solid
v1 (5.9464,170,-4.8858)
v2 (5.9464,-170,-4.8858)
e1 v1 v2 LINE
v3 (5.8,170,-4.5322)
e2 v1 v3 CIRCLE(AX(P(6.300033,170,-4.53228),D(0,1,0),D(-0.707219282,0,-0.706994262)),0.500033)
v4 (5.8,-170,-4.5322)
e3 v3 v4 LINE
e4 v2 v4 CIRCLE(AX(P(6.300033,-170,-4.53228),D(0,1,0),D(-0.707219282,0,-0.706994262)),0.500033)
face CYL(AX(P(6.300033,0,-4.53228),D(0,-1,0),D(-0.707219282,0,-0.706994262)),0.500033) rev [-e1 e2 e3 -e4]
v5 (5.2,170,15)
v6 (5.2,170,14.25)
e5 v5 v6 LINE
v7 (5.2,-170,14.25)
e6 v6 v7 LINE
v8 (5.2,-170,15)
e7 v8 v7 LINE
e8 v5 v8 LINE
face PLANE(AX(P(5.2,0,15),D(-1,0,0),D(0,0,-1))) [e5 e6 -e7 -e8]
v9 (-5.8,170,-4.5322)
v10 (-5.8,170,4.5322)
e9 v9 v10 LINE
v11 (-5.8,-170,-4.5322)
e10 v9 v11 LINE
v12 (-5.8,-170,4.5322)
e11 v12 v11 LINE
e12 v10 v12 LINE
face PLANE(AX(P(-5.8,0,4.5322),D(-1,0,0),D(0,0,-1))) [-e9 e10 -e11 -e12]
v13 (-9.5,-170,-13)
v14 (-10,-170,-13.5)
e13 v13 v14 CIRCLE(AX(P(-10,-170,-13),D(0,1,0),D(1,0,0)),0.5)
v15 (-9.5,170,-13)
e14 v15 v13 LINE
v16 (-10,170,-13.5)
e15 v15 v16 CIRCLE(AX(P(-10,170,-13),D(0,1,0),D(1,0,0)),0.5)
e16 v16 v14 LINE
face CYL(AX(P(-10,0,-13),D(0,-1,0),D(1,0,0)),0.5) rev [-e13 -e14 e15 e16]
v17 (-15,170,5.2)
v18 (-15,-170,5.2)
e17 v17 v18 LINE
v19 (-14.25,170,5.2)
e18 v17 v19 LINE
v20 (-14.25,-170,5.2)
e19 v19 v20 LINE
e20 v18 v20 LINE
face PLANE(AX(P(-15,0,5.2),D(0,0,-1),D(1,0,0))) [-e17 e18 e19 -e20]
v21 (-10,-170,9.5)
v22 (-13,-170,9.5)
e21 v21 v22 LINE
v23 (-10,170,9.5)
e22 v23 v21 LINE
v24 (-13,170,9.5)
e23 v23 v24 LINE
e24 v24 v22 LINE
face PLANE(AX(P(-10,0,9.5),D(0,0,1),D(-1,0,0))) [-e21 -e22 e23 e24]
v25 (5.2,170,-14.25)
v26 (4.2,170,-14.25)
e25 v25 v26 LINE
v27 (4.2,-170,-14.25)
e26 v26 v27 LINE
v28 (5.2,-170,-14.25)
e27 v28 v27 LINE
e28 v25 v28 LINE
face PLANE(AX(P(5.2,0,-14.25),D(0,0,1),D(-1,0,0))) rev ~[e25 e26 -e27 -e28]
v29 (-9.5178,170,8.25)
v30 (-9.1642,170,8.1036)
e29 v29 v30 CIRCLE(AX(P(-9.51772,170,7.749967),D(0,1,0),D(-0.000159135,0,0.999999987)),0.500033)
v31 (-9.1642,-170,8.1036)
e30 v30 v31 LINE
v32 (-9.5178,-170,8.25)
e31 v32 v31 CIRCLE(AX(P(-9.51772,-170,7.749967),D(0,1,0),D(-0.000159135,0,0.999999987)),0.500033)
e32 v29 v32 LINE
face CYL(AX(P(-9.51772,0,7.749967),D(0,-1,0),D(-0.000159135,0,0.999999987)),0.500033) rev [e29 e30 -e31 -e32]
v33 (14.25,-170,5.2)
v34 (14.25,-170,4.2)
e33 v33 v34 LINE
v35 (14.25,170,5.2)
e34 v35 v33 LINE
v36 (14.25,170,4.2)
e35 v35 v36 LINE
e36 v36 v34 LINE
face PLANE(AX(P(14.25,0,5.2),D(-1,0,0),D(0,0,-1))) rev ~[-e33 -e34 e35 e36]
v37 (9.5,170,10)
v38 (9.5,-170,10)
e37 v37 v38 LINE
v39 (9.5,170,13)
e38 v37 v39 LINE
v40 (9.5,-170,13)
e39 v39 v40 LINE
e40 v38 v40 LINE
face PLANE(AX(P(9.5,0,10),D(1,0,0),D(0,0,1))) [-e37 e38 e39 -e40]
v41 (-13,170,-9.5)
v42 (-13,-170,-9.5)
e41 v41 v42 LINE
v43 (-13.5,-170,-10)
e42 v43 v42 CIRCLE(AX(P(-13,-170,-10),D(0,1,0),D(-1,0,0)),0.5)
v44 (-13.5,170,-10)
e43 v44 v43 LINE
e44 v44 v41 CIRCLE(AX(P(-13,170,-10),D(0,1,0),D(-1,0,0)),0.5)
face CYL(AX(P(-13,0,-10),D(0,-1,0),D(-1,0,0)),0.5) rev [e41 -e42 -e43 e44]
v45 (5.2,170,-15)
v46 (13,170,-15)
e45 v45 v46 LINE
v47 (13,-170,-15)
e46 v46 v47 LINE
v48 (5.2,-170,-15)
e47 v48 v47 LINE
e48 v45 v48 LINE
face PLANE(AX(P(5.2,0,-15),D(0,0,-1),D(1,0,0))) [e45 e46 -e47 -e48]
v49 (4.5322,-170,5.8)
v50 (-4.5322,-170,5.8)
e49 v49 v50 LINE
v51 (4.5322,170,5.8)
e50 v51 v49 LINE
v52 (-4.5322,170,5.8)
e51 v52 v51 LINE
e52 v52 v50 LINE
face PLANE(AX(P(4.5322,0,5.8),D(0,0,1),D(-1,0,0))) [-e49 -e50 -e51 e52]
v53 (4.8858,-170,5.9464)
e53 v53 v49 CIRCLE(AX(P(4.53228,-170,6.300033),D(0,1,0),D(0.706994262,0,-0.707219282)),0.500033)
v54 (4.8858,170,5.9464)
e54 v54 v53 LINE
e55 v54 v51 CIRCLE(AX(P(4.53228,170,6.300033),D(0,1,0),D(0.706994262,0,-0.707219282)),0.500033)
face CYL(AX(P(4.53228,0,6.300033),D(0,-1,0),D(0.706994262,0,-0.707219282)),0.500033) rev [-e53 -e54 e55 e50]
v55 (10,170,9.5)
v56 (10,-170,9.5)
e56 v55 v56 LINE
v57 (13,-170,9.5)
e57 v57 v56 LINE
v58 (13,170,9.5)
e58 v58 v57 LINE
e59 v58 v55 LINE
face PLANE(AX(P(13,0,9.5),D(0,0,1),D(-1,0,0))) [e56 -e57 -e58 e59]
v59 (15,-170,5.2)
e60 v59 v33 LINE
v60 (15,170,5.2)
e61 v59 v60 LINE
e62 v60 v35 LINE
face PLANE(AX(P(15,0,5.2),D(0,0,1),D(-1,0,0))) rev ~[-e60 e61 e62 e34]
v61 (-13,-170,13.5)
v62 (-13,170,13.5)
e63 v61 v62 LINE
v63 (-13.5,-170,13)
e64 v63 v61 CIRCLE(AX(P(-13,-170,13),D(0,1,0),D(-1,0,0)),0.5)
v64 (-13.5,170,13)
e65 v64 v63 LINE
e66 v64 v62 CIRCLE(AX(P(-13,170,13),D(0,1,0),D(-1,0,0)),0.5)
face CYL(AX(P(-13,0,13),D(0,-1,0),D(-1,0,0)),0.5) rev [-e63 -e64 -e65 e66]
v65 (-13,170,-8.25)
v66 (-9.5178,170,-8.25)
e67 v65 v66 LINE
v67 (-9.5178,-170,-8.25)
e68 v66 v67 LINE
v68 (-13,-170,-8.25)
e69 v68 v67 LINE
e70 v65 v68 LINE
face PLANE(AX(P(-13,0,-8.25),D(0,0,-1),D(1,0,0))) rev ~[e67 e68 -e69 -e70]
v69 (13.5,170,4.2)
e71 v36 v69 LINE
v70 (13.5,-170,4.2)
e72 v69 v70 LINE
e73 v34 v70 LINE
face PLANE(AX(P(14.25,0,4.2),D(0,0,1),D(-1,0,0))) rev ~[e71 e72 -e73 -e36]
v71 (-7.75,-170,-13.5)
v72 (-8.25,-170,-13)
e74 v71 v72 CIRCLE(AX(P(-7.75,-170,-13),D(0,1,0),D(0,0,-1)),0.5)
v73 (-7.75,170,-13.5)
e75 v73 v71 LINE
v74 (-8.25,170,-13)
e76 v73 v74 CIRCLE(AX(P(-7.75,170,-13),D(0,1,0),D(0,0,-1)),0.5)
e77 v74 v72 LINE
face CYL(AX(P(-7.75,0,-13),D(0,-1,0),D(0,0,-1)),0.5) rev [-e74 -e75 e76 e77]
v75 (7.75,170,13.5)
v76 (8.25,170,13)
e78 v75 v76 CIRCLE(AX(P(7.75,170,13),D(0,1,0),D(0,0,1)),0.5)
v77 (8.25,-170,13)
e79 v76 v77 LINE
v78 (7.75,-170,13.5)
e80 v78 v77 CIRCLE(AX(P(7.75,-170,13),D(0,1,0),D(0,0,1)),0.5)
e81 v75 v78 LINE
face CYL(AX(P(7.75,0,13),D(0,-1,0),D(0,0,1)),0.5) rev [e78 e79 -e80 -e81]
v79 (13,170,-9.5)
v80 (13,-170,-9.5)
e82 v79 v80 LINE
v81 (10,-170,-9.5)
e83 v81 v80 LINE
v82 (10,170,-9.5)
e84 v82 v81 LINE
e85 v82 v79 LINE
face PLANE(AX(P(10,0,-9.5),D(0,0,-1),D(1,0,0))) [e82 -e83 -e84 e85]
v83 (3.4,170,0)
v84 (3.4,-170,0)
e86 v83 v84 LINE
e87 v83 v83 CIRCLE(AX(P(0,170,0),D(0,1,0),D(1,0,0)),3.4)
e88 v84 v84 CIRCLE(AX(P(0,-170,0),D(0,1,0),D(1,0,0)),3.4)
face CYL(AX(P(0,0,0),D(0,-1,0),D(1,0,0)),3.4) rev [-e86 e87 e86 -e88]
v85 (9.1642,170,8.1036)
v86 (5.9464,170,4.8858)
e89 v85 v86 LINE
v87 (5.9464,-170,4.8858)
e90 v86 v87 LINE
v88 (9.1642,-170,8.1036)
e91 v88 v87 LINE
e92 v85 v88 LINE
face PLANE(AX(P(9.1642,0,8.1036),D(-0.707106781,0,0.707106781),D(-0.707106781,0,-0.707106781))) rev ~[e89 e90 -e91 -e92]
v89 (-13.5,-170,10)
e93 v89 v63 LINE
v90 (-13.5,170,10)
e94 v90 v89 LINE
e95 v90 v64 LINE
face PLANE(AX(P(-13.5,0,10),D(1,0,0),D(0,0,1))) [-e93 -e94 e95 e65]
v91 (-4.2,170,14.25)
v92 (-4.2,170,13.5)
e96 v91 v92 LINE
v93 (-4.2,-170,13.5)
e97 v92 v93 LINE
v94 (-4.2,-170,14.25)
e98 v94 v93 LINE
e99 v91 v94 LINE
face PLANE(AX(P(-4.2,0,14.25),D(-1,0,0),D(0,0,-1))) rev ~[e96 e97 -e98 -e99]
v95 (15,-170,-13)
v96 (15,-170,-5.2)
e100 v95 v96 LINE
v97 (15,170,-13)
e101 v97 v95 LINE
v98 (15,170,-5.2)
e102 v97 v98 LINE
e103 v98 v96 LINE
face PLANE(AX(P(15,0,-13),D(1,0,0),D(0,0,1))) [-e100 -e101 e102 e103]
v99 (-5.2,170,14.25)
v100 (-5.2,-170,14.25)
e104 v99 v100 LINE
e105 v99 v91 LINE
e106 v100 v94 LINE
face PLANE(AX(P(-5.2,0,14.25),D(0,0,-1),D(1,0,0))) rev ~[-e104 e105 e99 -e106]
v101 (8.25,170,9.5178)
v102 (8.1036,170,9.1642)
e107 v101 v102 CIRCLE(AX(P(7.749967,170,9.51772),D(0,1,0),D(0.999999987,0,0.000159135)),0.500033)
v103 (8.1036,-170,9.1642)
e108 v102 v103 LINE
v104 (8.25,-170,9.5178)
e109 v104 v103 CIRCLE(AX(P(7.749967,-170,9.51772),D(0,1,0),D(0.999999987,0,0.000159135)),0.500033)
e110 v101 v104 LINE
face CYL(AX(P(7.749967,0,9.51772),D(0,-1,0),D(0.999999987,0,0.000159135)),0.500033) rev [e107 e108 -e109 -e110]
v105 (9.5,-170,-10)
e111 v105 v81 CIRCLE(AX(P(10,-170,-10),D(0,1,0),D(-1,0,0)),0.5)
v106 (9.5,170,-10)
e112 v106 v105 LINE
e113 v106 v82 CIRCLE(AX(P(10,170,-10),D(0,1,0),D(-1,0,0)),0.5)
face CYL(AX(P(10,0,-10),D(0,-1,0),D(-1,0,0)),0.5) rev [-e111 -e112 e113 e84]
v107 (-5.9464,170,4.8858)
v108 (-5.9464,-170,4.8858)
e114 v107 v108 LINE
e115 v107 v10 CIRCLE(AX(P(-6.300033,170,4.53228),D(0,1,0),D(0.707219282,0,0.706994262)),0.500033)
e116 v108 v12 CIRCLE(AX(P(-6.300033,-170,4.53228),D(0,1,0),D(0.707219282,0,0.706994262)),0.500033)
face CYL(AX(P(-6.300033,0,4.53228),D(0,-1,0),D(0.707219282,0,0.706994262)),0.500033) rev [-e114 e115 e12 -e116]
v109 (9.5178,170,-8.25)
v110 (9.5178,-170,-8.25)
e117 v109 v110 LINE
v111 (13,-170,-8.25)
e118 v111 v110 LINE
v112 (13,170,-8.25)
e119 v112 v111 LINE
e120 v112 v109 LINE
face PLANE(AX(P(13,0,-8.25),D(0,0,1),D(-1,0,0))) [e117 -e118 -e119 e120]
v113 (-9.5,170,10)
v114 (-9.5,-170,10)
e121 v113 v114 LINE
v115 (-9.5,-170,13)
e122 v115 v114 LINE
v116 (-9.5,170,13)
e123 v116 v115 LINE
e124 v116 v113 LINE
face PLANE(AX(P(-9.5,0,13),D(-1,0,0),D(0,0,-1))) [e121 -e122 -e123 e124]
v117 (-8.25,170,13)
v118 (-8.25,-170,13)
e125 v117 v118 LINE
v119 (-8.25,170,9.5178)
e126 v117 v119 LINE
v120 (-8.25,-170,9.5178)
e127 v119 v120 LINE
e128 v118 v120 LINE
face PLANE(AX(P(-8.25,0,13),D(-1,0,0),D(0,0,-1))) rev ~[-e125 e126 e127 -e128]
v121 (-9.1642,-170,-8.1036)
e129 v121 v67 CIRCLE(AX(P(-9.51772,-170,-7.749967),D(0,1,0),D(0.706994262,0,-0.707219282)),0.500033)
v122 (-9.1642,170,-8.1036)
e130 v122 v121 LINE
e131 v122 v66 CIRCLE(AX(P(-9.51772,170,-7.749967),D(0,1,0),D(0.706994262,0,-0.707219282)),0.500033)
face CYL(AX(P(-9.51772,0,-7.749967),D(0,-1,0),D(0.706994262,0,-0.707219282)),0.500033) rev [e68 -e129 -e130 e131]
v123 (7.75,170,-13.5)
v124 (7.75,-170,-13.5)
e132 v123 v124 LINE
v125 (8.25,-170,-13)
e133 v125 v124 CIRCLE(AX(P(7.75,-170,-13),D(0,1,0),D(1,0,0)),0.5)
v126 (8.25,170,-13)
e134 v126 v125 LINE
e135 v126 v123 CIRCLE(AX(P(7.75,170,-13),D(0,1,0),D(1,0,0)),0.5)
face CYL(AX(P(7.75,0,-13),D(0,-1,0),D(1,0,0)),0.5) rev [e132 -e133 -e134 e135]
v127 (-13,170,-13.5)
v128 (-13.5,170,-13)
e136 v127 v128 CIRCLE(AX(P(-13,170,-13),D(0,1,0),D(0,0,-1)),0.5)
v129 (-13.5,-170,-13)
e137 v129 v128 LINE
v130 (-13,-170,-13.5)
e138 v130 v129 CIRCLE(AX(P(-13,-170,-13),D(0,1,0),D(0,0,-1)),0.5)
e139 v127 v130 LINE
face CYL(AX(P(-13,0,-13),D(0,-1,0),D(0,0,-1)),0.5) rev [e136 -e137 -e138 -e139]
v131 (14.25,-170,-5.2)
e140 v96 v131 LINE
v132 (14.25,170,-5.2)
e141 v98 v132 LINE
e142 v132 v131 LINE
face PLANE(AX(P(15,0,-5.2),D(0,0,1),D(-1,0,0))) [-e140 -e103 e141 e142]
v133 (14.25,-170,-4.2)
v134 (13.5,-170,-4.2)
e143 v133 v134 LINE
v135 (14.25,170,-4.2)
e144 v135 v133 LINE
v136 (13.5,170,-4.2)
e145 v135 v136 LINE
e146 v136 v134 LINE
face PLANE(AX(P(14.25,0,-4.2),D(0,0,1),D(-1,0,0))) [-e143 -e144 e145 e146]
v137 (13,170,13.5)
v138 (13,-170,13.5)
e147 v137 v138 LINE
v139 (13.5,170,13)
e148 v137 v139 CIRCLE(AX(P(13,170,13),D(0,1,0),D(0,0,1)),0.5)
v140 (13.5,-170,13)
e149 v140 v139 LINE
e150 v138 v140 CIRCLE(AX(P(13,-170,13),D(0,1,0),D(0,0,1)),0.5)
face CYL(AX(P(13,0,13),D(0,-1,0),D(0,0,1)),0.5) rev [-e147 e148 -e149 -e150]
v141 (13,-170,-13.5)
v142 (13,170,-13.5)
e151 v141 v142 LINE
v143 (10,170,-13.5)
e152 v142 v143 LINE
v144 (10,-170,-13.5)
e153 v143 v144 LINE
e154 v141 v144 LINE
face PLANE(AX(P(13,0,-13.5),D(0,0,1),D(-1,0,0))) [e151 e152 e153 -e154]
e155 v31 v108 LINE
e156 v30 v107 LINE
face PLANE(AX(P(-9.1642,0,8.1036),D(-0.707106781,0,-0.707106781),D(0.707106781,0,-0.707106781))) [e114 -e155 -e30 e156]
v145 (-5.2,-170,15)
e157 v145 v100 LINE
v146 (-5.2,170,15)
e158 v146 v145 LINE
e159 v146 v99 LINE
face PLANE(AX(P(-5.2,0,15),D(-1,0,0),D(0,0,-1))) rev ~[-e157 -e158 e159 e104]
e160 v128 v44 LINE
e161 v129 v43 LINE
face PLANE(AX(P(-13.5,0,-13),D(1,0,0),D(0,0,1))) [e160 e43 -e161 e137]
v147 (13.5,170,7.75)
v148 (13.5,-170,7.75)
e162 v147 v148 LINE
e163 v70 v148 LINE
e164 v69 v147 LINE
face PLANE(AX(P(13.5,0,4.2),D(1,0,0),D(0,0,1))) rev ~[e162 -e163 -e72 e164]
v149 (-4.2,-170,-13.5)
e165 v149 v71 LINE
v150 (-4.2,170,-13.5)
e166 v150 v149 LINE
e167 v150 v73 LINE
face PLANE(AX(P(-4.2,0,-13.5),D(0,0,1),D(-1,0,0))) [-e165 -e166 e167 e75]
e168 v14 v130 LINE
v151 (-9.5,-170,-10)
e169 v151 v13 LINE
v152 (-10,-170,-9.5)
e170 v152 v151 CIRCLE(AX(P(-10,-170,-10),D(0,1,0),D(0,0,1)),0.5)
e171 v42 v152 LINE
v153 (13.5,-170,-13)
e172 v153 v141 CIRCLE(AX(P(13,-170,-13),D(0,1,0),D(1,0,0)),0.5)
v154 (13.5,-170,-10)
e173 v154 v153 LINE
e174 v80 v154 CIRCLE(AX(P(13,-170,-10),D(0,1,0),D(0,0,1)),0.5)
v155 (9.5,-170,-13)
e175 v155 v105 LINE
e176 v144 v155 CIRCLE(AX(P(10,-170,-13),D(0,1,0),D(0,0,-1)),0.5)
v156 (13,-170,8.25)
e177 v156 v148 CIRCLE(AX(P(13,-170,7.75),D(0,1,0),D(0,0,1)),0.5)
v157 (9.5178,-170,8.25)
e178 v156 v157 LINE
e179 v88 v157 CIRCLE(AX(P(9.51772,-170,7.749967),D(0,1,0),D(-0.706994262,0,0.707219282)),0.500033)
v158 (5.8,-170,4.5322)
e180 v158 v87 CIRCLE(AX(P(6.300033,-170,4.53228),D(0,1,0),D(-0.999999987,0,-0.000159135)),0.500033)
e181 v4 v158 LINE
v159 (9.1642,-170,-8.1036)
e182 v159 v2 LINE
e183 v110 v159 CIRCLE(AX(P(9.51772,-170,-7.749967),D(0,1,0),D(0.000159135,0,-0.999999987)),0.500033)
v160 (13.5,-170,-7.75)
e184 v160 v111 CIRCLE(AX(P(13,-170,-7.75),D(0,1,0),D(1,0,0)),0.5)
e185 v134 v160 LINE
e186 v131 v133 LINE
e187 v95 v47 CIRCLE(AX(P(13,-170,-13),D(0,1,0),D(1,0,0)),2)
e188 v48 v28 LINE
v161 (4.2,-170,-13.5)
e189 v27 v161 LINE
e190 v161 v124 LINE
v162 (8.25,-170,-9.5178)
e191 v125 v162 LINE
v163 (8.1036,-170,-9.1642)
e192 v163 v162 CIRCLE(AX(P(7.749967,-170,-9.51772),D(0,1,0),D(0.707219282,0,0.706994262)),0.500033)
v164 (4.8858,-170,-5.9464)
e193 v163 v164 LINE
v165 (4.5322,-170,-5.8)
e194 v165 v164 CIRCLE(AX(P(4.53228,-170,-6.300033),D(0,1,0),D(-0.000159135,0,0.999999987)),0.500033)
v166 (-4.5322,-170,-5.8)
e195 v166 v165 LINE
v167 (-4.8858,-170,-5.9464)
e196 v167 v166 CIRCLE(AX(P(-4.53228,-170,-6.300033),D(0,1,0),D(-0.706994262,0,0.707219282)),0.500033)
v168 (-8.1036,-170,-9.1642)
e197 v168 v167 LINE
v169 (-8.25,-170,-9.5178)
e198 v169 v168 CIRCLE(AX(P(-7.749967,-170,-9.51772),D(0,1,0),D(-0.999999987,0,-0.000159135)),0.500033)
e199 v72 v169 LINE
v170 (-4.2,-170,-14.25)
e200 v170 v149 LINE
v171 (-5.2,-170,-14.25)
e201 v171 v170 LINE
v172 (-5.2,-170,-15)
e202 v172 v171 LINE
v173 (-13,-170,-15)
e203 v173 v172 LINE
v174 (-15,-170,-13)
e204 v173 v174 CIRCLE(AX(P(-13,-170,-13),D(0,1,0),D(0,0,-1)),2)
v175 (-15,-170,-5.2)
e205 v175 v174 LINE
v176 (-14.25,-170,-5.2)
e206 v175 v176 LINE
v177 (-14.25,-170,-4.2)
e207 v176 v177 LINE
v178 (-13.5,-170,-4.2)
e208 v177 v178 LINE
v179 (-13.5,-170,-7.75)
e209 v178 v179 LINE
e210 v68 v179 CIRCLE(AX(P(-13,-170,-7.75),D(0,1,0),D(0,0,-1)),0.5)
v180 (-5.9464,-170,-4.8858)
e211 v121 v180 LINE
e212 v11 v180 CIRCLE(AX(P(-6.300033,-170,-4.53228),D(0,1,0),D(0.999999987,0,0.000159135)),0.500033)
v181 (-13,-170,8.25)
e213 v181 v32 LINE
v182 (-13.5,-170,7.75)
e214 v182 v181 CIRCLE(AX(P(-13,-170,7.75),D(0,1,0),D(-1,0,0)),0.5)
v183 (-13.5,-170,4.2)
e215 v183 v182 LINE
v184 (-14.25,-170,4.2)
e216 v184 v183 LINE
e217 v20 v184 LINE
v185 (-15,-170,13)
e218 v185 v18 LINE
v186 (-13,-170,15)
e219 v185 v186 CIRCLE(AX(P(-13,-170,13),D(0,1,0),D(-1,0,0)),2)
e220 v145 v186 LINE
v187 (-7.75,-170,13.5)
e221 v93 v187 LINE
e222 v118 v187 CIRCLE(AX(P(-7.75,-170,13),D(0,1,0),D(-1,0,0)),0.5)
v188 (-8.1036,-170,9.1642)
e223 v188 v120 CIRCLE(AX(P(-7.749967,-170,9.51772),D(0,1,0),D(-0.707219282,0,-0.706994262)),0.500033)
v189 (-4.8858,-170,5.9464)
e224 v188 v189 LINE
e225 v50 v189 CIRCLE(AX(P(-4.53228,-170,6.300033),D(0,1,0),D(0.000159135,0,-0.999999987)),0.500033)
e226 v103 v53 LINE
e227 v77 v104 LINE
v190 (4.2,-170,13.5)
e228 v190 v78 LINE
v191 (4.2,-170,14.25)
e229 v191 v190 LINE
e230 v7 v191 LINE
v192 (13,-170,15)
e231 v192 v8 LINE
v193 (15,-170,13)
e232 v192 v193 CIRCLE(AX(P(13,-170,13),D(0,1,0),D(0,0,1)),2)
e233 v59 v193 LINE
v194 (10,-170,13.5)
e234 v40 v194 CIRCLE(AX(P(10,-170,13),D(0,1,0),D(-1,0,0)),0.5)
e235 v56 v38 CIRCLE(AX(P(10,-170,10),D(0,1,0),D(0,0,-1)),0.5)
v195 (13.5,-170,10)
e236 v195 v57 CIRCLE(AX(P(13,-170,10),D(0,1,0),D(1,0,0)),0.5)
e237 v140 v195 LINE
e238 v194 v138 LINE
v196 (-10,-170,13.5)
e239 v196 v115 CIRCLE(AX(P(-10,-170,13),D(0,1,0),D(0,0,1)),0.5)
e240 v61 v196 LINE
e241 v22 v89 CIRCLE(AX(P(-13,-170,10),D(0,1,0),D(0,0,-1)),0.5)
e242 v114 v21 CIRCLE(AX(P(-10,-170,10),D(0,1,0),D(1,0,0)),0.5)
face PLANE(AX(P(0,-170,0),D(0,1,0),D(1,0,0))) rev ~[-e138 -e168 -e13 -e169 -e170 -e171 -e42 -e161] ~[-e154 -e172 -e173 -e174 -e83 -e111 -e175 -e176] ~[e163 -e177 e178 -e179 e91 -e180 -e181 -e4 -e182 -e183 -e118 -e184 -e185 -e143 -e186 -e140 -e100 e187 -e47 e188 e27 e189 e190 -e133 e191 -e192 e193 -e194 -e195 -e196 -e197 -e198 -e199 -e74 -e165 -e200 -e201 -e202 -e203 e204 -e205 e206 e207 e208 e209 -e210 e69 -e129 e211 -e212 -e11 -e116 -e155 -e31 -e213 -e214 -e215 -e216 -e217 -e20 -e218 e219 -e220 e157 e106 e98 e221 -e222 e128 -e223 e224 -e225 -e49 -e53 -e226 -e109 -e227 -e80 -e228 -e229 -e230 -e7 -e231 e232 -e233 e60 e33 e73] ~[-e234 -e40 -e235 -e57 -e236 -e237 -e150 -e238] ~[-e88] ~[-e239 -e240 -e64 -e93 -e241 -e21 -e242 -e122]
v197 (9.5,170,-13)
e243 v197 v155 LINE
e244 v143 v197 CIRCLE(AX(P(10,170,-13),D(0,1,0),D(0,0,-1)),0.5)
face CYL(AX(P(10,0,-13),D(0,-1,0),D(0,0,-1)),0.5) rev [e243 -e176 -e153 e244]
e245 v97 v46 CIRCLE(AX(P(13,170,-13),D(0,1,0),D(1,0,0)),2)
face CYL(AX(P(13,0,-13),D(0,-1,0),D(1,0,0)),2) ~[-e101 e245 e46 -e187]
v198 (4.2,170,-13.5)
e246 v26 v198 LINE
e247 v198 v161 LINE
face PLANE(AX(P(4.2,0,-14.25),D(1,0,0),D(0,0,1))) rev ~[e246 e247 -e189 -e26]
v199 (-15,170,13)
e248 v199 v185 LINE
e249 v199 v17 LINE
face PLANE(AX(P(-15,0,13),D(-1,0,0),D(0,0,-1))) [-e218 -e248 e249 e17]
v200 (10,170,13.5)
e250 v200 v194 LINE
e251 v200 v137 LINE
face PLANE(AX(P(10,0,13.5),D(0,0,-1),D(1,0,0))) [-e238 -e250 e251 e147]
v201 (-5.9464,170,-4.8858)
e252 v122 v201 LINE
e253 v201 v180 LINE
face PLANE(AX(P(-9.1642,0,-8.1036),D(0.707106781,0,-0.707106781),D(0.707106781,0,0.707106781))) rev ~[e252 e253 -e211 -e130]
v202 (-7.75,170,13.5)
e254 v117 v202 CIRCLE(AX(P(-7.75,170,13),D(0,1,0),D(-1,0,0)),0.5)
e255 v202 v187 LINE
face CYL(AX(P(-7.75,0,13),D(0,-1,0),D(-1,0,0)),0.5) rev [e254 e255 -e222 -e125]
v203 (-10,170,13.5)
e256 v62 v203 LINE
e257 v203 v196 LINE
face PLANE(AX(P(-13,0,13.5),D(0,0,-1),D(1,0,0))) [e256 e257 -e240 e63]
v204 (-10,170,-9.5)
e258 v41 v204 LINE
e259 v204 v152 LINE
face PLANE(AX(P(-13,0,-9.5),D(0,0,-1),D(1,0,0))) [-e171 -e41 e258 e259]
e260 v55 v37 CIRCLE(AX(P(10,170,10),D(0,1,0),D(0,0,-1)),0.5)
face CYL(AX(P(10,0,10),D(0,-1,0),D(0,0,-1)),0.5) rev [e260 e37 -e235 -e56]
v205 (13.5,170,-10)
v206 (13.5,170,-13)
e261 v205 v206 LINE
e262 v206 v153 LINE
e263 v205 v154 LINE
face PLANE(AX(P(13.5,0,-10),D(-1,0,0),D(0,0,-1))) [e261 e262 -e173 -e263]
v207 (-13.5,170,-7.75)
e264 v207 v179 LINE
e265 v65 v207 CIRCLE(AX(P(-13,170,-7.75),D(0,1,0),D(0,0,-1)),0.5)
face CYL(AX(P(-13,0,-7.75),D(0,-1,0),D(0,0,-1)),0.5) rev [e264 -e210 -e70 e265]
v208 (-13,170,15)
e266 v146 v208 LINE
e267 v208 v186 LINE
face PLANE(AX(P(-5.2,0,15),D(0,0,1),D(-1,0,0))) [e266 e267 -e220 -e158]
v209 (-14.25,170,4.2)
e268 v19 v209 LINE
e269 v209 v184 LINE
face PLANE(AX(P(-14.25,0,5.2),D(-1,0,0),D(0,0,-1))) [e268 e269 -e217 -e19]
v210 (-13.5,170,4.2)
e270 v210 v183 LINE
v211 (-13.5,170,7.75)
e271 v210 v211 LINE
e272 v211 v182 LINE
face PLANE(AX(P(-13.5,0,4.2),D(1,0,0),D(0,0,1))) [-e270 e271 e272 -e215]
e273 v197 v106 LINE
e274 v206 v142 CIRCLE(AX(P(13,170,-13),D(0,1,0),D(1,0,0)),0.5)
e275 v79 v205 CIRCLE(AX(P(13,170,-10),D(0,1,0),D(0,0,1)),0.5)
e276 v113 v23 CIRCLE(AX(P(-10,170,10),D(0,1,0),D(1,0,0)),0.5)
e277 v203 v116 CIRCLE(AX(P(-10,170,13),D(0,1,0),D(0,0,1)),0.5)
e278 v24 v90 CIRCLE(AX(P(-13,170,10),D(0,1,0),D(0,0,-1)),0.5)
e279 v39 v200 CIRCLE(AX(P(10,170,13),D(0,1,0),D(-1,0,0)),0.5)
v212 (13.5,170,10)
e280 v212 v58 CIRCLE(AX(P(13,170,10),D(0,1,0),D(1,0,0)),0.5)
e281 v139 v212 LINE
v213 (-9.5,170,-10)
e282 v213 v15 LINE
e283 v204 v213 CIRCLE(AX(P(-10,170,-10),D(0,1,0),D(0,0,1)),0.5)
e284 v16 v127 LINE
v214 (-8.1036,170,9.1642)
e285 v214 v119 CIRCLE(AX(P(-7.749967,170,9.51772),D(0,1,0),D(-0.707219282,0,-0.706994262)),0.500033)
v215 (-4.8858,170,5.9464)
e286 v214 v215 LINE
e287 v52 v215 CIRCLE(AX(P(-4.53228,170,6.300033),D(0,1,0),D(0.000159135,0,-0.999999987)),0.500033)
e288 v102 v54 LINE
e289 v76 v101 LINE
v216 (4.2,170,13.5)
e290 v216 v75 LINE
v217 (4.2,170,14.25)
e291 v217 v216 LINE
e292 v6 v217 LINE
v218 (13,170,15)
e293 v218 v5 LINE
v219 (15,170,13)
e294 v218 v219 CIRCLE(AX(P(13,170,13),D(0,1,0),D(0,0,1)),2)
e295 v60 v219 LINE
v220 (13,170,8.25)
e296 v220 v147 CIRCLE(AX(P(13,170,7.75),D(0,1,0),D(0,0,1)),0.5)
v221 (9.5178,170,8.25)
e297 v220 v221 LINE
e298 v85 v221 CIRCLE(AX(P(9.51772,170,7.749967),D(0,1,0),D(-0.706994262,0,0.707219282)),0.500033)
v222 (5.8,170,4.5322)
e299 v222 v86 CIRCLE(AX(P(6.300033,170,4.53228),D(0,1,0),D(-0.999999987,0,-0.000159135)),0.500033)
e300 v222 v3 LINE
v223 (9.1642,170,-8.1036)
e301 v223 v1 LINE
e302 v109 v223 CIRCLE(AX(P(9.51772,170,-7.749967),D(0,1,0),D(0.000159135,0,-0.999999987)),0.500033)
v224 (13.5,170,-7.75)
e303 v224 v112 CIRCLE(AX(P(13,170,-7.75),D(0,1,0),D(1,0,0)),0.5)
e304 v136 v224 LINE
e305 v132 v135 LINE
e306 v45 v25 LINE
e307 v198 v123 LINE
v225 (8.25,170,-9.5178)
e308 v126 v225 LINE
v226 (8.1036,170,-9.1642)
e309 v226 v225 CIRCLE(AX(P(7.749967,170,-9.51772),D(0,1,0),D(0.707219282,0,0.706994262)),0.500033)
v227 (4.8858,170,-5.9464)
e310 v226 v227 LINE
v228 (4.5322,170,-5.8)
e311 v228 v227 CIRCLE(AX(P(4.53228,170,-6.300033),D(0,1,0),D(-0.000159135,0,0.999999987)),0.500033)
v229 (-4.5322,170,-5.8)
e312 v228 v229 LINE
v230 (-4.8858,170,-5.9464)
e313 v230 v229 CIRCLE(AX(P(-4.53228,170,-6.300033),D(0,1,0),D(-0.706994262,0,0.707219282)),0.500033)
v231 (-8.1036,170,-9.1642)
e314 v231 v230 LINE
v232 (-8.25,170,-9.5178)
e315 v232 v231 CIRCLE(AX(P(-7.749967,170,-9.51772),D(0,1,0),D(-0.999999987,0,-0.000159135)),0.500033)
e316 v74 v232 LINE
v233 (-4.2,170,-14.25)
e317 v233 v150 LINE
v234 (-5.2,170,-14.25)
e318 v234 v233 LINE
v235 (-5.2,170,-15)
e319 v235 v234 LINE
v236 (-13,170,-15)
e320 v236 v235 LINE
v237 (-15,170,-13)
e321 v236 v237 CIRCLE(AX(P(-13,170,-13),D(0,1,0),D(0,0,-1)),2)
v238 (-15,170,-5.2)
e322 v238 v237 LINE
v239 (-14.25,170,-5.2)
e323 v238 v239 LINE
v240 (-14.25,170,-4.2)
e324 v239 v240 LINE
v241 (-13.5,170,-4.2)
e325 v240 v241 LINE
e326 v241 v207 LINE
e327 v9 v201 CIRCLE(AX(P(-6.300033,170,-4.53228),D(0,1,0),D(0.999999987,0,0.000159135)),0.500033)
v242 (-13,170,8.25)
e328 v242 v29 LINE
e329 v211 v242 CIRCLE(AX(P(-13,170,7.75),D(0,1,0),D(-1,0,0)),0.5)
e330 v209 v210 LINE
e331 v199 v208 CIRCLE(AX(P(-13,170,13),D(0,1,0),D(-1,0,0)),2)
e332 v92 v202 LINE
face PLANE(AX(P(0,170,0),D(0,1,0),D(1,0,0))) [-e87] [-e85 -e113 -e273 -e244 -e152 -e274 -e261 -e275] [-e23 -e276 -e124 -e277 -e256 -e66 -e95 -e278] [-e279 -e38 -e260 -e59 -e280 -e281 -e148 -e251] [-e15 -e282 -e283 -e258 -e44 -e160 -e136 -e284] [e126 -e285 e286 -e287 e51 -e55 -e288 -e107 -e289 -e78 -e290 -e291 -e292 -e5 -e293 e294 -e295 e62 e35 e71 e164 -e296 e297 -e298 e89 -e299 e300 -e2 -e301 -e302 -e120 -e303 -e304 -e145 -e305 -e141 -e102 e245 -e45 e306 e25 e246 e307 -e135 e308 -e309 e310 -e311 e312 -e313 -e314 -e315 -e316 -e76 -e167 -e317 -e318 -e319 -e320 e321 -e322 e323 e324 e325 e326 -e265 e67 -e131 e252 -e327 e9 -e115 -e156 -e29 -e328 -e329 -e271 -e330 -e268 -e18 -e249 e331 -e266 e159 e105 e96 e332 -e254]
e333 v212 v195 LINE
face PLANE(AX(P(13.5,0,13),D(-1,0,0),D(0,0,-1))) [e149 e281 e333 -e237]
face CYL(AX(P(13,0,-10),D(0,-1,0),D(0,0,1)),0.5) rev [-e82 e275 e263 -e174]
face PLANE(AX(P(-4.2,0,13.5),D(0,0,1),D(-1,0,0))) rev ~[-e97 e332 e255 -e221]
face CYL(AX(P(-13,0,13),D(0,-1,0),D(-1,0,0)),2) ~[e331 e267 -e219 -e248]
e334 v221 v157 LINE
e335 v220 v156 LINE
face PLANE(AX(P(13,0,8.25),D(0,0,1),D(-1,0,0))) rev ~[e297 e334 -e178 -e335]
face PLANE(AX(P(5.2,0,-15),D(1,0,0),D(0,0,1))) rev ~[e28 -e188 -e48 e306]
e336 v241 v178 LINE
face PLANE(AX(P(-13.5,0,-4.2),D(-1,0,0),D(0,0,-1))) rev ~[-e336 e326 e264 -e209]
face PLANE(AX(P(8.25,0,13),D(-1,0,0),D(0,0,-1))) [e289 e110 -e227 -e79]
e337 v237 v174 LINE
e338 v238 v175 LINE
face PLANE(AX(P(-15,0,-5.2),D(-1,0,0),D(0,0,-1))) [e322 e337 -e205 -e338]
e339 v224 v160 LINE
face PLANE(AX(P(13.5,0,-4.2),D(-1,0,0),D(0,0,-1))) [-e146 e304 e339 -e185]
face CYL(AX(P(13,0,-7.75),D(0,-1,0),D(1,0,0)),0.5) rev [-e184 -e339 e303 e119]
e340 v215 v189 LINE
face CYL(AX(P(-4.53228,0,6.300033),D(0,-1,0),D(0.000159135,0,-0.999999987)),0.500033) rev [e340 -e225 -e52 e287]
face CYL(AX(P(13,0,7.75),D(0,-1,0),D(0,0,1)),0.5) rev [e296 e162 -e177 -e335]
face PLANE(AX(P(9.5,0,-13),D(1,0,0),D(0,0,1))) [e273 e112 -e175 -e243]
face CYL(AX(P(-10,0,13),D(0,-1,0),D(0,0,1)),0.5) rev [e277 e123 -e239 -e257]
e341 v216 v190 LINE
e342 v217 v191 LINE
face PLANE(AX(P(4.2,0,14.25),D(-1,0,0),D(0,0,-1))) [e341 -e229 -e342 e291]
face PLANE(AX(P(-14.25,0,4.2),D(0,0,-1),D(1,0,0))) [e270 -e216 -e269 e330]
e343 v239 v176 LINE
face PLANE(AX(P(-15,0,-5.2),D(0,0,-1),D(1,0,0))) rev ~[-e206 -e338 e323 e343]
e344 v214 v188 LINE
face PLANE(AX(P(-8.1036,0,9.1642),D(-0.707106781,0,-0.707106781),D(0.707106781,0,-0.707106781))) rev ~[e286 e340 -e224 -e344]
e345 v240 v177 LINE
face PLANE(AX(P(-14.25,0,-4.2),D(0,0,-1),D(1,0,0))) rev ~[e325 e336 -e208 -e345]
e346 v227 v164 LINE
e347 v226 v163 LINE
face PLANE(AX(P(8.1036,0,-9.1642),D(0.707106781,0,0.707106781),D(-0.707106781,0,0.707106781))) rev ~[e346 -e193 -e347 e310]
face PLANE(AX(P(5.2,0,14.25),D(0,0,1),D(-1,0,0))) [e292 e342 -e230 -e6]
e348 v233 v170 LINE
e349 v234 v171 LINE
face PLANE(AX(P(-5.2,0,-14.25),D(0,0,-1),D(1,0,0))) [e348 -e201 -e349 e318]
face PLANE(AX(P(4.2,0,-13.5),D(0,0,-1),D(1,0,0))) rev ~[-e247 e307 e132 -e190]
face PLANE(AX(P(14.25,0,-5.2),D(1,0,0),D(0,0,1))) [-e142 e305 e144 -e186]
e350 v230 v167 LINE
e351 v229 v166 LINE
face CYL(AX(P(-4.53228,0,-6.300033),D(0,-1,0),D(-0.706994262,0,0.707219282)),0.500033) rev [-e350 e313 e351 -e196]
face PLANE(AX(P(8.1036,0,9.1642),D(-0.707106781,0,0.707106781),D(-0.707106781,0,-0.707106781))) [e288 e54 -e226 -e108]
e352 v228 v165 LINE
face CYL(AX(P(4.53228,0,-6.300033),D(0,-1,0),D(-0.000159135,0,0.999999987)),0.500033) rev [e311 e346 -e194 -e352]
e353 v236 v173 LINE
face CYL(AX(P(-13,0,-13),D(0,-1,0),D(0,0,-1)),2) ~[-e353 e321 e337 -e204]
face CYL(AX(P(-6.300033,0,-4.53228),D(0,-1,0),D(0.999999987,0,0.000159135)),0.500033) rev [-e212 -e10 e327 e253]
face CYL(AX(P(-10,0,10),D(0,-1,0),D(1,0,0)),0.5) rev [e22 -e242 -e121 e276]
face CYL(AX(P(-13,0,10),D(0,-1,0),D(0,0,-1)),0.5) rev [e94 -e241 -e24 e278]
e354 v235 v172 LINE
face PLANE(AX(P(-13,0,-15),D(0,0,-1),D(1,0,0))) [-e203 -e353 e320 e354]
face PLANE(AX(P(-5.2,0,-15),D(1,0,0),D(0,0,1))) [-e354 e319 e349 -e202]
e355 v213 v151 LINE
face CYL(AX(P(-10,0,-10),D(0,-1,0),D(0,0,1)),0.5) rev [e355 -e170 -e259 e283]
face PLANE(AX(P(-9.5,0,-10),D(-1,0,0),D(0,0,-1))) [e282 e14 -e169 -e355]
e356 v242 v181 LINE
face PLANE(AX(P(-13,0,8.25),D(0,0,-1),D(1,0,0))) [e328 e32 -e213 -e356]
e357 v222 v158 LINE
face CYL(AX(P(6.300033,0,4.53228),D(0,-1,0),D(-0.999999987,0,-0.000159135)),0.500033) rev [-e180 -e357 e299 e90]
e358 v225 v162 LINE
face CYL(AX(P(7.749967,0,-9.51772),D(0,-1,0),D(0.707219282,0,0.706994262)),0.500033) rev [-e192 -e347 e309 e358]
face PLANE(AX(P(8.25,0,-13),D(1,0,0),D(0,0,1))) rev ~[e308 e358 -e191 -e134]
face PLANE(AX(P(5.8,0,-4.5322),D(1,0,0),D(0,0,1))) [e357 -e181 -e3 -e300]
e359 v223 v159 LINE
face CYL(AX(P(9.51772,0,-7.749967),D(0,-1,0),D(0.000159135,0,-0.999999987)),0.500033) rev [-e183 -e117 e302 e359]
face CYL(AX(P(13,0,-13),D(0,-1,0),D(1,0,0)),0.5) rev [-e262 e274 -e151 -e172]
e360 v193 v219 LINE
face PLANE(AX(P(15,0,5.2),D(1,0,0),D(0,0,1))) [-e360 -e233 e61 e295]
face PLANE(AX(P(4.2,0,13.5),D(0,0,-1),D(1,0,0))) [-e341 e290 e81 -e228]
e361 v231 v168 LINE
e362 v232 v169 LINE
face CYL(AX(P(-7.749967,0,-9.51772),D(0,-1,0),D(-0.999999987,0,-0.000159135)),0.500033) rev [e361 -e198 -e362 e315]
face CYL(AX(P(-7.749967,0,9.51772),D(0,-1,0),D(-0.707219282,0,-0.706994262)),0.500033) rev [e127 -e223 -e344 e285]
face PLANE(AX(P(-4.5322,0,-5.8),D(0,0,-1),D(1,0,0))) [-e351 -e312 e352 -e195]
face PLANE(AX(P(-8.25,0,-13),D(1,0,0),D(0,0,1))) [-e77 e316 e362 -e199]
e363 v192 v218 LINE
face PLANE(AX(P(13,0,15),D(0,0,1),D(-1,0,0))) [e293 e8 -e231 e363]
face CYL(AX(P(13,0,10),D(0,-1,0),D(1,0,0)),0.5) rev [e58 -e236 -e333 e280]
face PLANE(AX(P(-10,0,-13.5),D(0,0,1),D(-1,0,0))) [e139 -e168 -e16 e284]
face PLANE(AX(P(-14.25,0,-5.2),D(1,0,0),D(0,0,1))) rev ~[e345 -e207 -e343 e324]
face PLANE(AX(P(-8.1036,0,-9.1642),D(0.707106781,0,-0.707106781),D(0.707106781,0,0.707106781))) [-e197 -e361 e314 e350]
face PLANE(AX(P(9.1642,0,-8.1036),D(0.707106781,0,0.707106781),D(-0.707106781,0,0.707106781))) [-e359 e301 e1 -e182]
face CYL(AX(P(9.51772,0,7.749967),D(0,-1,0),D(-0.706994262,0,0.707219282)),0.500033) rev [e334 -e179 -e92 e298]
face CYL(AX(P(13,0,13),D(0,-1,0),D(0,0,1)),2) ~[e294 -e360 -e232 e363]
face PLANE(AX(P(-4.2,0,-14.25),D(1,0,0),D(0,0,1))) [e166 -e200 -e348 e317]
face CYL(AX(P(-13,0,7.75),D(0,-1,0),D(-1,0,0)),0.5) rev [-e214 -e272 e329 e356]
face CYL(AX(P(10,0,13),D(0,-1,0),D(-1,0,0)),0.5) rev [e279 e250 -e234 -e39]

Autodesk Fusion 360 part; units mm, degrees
sketch "スケッチ1" plane through (0, 0, 0) normal (0, 1, 0) x (1, 0, 0)
  line L0 (13, -15) -> (-13, -15)
  line L1 (-15, -13) -> (-15, 13)
  line L2 (-13, 15) -> (13, 15)
  line L3 (15, 13) -> (15, -13)
  line L4 (15, -15) -> (-15, 15) construction
  line L5 (-15, -15) -> (15, 15) construction
  circle A0 centre (0, 0) radius 3.4
  line L6 (-5.2, -15) -> (-5.2, -14.25)
  line L7 (-5.2, -14.25) -> (-4.2, -14.25)
  line L8 (-4.2, -14.25) -> (-4.2, -13.5)
  line L9 (-4.2, -13.5) -> (-7.75, -13.5)
  line L10 (-8.25, -13) -> (-8.25, -9.5178)
  line L11 (-8.1036, -9.1642) -> (-4.8858, -5.9464)
  line L12 (-4.5322, -5.8) -> (0, -5.8)
  arc A1 (-8.25, -13) -> (-7.75, -13.5) centre (-7.75, -13) ccw
  arc A2 (-8.1036, -9.1642) -> (-8.25, -9.5178) centre (-7.75, -9.5178) ccw
  arc A3 (-4.5322, -5.8) -> (-4.8858, -5.9464) centre (-4.5322, -6.3) ccw
  line L13 (-13, -13.5) -> (-10, -13.5)
  line L14 (-9.5, -13) -> (-9.5, -10)
  line L15 (-10, -9.5) -> (-13, -9.5)
  line L16 (-13.5, -10) -> (-13.5, -13)
  arc A4 (-13.5, -13) -> (-13, -13.5) centre (-13, -13) ccw
  arc A5 (-10, -13.5) -> (-9.5, -13) centre (-10, -13) ccw
  arc A6 (-9.5, -10) -> (-10, -9.5) centre (-10, -10) ccw
  arc A7 (-13, -9.5) -> (-13.5, -10) centre (-13, -10) ccw
  arc A8 (-15, -13) -> (-13, -15) centre (-13, -13) ccw
  arc A9 (-13, 15) -> (-15, 13) centre (-13, 13) ccw
  arc A10 (15, 13) -> (13, 15) centre (13, 13) ccw
  arc A11 (13, -15) -> (15, -13) centre (13, -13) ccw
  line L17 (0, 0) -> (0, -15) construction
  line L18 (5.2, -15) -> (5.2, -14.25)
  line L19 (5.2, -14.25) -> (4.2, -14.25)
  line L20 (4.2, -14.25) -> (4.2, -13.5)
  line L21 (4.2, -13.5) -> (7.75, -13.5)
  arc A12 (7.75, -13.5) -> (8.25, -13) centre (7.75, -13) ccw
  line L22 (8.25, -13) -> (8.25, -9.5178)
  arc A13 (8.25, -9.5178) -> (8.1036, -9.1642) centre (7.75, -9.5178) ccw
  line L23 (8.1036, -9.1642) -> (4.8858, -5.9464)
  arc A14 (4.8858, -5.9464) -> (4.5322, -5.8) centre (4.5322, -6.3) ccw
  line L24 (4.5322, -5.8) -> (0, -5.8)
  line L25 (15, -5.2) -> (14.25, -5.2)
  line L26 (14.25, -5.2) -> (14.25, -4.2)
  line L27 (14.25, -4.2) -> (13.5, -4.2)
  line L28 (13.5, -4.2) -> (13.5, -7.75)
  arc A15 (13, -8.25) -> (13.5, -7.75) centre (13, -7.75) ccw
  line L29 (13, -8.25) -> (9.5178, -8.25)
  arc A16 (9.1642, -8.1036) -> (9.5178, -8.25) centre (9.5178, -7.75) ccw
  line L30 (9.1642, -8.1036) -> (5.9464, -4.8858)
  arc A17 (5.8, -4.5322) -> (5.9464, -4.8858) centre (6.3, -4.5322) ccw
  line L31 (5.8, -4.5322) -> (5.8, 0)
  line L32 (5.8, 4.5322) -> (5.8, 0)
  arc A18 (5.9464, 4.8858) -> (5.8, 4.5322) centre (6.3, 4.5322) ccw
  line L33 (9.1642, 8.1036) -> (5.9464, 4.8858)
  arc A19 (9.5178, 8.25) -> (9.1642, 8.1036) centre (9.5178, 7.75) ccw
  line L34 (13, 8.25) -> (9.5178, 8.25)
  arc A20 (13.5, 7.75) -> (13, 8.25) centre (13, 7.75) ccw
  line L35 (13.5, 4.2) -> (13.5, 7.75)
  line L36 (14.25, 4.2) -> (13.5, 4.2)
  line L37 (14.25, 5.2) -> (14.25, 4.2)
  line L38 (15, 5.2) -> (14.25, 5.2)
  line L39 (13.5, -13) -> (13.5, -10)
  arc A21 (13.5, -10) -> (13, -9.5) centre (13, -10) ccw
  line L40 (13, -9.5) -> (10, -9.5)
  arc A22 (10, -9.5) -> (9.5, -10) centre (10, -10) ccw
  line L41 (9.5, -10) -> (9.5, -13)
  arc A23 (9.5, -13) -> (10, -13.5) centre (10, -13) ccw
  line L42 (10, -13.5) -> (13, -13.5)
  arc A24 (13, -13.5) -> (13.5, -13) centre (13, -13) ccw
  line L43 (5.2, 15) -> (5.2, 14.25)
  line L44 (5.2, 14.25) -> (4.2, 14.25)
  line L45 (4.2, 14.25) -> (4.2, 13.5)
  line L46 (4.2, 13.5) -> (7.75, 13.5)
  arc A25 (8.25, 13) -> (7.75, 13.5) centre (7.75, 13) ccw
  line L47 (8.25, 13) -> (8.25, 9.5178)
  arc A26 (8.1036, 9.1642) -> (8.25, 9.5178) centre (7.75, 9.5178) ccw
  line L48 (8.1036, 9.1642) -> (4.8858, 5.9464)
  arc A27 (4.5322, 5.8) -> (4.8858, 5.9464) centre (4.5322, 6.3) ccw
  line L49 (4.5322, 5.8) -> (0, 5.8)
  line L50 (-4.5322, 5.8) -> (0, 5.8)
  arc A28 (-4.8858, 5.9464) -> (-4.5322, 5.8) centre (-4.5322, 6.3) ccw
  line L51 (-8.1036, 9.1642) -> (-4.8858, 5.9464)
  arc A29 (-8.25, 9.5178) -> (-8.1036, 9.1642) centre (-7.75, 9.5178) ccw
  line L52 (-8.25, 13) -> (-8.25, 9.5178)
  arc A30 (-7.75, 13.5) -> (-8.25, 13) centre (-7.75, 13) ccw
  line L53 (-4.2, 13.5) -> (-7.75, 13.5)
  line L54 (-4.2, 14.25) -> (-4.2, 13.5)
  line L55 (-5.2, 14.25) -> (-4.2, 14.25)
  line L56 (-5.2, 15) -> (-5.2, 14.25)
  line L57 (13, 13.5) -> (10, 13.5)
  arc A31 (10, 13.5) -> (9.5, 13) centre (10, 13) ccw
  line L58 (9.5, 13) -> (9.5, 10)
  arc A32 (9.5, 10) -> (10, 9.5) centre (10, 10) ccw
  line L59 (10, 9.5) -> (13, 9.5)
  arc A33 (13, 9.5) -> (13.5, 10) centre (13, 10) ccw
  line L60 (13.5, 10) -> (13.5, 13)
  arc A34 (13.5, 13) -> (13, 13.5) centre (13, 13) ccw
  line L61 (-15, 5.2) -> (-14.25, 5.2)
  line L62 (-14.25, 5.2) -> (-14.25, 4.2)
  line L63 (-14.25, 4.2) -> (-13.5, 4.2)
  line L64 (-13.5, 4.2) -> (-13.5, 7.75)
  arc A35 (-13, 8.25) -> (-13.5, 7.75) centre (-13, 7.75) ccw
  line L65 (-13, 8.25) -> (-9.5178, 8.25)
  arc A36 (-9.1642, 8.1036) -> (-9.5178, 8.25) centre (-9.5178, 7.75) ccw
  line L66 (-9.1642, 8.1036) -> (-5.9464, 4.8858)
  arc A37 (-5.8, 4.5322) -> (-5.9464, 4.8858) centre (-6.3, 4.5322) ccw
  line L67 (-5.8, 4.5322) -> (-5.8, 0)
  line L68 (-5.8, -4.5322) -> (-5.8, 0)
  arc A38 (-5.9464, -4.8858) -> (-5.8, -4.5322) centre (-6.3, -4.5322) ccw
  line L69 (-9.1642, -8.1036) -> (-5.9464, -4.8858)
  arc A39 (-9.5178, -8.25) -> (-9.1642, -8.1036) centre (-9.5178, -7.75) ccw
  line L70 (-13, -8.25) -> (-9.5178, -8.25)
  arc A40 (-13.5, -7.75) -> (-13, -8.25) centre (-13, -7.75) ccw
  line L71 (-13.5, -4.2) -> (-13.5, -7.75)
  line L72 (-14.25, -4.2) -> (-13.5, -4.2)
  line L73 (-14.25, -5.2) -> (-14.25, -4.2)
  line L74 (-15, -5.2) -> (-14.25, -5.2)
  line L75 (-13.5, 13) -> (-13.5, 10)
  arc A41 (-13.5, 10) -> (-13, 9.5) centre (-13, 10) ccw
  line L76 (-13, 9.5) -> (-10, 9.5)
  arc A42 (-10, 9.5) -> (-9.5, 10) centre (-10, 10) ccw
  line L77 (-9.5, 10) -> (-9.5, 13)
  arc A43 (-9.5, 13) -> (-10, 13.5) centre (-10, 13) ccw
  line L78 (-10, 13.5) -> (-13, 13.5)
  arc A44 (-13, 13.5) -> (-13.5, 13) centre (-13, 13) ccw
  dimension "d1" = 30
  dimension "d2" = 30
  dimension "d3" = 6.8
  dimension "d4" = 1
  dimension "d5" = 0.75
  dimension "d6" = 0.75
  dimension "d7" = 4.2
  dimension "d8" = 8.25
  dimension "d9" = 0.75
  dimension "d10" = 9.2
  dimension "d13" = 0.5
  dimension "d14" = 0.5
  dimension "d15" = 0.5
  dimension "d16" = 4
  dimension "d17" = 1.5
  dimension "d18" = 0.5
  dimension "d19" = 0.5
  dimension "d20" = 4
  dimension "d21" = 2
  dimension "d23" = 360
extrude "押し出し1" add sketch "スケッチ1" along normal mid plane 340 contours L0 L1 L2 L3 L6 L7 L8 L9 L10 L11 L12 A1 A2 A3 A8 A9 A10 A11 L18 L19 L20 L21 A12 L22 A13 L23 A14 L24 L25 L26 L27 L28 A15 L29 A16 L30 A17 L31 L32 A18 L33 A19 L34 A20 L35 L36 L37 L38 L43 L44 L45 L46 A25 L47 A26 L48 A27 L49 L50 A28 L51 A29 L52 A30 L53 L54 L55 L56 L61 L62 L63 L64 A35 L65 A36 L66 A37 L67 L68 A38 L69 A39 L70 A40 L71 L72 L73 L74
